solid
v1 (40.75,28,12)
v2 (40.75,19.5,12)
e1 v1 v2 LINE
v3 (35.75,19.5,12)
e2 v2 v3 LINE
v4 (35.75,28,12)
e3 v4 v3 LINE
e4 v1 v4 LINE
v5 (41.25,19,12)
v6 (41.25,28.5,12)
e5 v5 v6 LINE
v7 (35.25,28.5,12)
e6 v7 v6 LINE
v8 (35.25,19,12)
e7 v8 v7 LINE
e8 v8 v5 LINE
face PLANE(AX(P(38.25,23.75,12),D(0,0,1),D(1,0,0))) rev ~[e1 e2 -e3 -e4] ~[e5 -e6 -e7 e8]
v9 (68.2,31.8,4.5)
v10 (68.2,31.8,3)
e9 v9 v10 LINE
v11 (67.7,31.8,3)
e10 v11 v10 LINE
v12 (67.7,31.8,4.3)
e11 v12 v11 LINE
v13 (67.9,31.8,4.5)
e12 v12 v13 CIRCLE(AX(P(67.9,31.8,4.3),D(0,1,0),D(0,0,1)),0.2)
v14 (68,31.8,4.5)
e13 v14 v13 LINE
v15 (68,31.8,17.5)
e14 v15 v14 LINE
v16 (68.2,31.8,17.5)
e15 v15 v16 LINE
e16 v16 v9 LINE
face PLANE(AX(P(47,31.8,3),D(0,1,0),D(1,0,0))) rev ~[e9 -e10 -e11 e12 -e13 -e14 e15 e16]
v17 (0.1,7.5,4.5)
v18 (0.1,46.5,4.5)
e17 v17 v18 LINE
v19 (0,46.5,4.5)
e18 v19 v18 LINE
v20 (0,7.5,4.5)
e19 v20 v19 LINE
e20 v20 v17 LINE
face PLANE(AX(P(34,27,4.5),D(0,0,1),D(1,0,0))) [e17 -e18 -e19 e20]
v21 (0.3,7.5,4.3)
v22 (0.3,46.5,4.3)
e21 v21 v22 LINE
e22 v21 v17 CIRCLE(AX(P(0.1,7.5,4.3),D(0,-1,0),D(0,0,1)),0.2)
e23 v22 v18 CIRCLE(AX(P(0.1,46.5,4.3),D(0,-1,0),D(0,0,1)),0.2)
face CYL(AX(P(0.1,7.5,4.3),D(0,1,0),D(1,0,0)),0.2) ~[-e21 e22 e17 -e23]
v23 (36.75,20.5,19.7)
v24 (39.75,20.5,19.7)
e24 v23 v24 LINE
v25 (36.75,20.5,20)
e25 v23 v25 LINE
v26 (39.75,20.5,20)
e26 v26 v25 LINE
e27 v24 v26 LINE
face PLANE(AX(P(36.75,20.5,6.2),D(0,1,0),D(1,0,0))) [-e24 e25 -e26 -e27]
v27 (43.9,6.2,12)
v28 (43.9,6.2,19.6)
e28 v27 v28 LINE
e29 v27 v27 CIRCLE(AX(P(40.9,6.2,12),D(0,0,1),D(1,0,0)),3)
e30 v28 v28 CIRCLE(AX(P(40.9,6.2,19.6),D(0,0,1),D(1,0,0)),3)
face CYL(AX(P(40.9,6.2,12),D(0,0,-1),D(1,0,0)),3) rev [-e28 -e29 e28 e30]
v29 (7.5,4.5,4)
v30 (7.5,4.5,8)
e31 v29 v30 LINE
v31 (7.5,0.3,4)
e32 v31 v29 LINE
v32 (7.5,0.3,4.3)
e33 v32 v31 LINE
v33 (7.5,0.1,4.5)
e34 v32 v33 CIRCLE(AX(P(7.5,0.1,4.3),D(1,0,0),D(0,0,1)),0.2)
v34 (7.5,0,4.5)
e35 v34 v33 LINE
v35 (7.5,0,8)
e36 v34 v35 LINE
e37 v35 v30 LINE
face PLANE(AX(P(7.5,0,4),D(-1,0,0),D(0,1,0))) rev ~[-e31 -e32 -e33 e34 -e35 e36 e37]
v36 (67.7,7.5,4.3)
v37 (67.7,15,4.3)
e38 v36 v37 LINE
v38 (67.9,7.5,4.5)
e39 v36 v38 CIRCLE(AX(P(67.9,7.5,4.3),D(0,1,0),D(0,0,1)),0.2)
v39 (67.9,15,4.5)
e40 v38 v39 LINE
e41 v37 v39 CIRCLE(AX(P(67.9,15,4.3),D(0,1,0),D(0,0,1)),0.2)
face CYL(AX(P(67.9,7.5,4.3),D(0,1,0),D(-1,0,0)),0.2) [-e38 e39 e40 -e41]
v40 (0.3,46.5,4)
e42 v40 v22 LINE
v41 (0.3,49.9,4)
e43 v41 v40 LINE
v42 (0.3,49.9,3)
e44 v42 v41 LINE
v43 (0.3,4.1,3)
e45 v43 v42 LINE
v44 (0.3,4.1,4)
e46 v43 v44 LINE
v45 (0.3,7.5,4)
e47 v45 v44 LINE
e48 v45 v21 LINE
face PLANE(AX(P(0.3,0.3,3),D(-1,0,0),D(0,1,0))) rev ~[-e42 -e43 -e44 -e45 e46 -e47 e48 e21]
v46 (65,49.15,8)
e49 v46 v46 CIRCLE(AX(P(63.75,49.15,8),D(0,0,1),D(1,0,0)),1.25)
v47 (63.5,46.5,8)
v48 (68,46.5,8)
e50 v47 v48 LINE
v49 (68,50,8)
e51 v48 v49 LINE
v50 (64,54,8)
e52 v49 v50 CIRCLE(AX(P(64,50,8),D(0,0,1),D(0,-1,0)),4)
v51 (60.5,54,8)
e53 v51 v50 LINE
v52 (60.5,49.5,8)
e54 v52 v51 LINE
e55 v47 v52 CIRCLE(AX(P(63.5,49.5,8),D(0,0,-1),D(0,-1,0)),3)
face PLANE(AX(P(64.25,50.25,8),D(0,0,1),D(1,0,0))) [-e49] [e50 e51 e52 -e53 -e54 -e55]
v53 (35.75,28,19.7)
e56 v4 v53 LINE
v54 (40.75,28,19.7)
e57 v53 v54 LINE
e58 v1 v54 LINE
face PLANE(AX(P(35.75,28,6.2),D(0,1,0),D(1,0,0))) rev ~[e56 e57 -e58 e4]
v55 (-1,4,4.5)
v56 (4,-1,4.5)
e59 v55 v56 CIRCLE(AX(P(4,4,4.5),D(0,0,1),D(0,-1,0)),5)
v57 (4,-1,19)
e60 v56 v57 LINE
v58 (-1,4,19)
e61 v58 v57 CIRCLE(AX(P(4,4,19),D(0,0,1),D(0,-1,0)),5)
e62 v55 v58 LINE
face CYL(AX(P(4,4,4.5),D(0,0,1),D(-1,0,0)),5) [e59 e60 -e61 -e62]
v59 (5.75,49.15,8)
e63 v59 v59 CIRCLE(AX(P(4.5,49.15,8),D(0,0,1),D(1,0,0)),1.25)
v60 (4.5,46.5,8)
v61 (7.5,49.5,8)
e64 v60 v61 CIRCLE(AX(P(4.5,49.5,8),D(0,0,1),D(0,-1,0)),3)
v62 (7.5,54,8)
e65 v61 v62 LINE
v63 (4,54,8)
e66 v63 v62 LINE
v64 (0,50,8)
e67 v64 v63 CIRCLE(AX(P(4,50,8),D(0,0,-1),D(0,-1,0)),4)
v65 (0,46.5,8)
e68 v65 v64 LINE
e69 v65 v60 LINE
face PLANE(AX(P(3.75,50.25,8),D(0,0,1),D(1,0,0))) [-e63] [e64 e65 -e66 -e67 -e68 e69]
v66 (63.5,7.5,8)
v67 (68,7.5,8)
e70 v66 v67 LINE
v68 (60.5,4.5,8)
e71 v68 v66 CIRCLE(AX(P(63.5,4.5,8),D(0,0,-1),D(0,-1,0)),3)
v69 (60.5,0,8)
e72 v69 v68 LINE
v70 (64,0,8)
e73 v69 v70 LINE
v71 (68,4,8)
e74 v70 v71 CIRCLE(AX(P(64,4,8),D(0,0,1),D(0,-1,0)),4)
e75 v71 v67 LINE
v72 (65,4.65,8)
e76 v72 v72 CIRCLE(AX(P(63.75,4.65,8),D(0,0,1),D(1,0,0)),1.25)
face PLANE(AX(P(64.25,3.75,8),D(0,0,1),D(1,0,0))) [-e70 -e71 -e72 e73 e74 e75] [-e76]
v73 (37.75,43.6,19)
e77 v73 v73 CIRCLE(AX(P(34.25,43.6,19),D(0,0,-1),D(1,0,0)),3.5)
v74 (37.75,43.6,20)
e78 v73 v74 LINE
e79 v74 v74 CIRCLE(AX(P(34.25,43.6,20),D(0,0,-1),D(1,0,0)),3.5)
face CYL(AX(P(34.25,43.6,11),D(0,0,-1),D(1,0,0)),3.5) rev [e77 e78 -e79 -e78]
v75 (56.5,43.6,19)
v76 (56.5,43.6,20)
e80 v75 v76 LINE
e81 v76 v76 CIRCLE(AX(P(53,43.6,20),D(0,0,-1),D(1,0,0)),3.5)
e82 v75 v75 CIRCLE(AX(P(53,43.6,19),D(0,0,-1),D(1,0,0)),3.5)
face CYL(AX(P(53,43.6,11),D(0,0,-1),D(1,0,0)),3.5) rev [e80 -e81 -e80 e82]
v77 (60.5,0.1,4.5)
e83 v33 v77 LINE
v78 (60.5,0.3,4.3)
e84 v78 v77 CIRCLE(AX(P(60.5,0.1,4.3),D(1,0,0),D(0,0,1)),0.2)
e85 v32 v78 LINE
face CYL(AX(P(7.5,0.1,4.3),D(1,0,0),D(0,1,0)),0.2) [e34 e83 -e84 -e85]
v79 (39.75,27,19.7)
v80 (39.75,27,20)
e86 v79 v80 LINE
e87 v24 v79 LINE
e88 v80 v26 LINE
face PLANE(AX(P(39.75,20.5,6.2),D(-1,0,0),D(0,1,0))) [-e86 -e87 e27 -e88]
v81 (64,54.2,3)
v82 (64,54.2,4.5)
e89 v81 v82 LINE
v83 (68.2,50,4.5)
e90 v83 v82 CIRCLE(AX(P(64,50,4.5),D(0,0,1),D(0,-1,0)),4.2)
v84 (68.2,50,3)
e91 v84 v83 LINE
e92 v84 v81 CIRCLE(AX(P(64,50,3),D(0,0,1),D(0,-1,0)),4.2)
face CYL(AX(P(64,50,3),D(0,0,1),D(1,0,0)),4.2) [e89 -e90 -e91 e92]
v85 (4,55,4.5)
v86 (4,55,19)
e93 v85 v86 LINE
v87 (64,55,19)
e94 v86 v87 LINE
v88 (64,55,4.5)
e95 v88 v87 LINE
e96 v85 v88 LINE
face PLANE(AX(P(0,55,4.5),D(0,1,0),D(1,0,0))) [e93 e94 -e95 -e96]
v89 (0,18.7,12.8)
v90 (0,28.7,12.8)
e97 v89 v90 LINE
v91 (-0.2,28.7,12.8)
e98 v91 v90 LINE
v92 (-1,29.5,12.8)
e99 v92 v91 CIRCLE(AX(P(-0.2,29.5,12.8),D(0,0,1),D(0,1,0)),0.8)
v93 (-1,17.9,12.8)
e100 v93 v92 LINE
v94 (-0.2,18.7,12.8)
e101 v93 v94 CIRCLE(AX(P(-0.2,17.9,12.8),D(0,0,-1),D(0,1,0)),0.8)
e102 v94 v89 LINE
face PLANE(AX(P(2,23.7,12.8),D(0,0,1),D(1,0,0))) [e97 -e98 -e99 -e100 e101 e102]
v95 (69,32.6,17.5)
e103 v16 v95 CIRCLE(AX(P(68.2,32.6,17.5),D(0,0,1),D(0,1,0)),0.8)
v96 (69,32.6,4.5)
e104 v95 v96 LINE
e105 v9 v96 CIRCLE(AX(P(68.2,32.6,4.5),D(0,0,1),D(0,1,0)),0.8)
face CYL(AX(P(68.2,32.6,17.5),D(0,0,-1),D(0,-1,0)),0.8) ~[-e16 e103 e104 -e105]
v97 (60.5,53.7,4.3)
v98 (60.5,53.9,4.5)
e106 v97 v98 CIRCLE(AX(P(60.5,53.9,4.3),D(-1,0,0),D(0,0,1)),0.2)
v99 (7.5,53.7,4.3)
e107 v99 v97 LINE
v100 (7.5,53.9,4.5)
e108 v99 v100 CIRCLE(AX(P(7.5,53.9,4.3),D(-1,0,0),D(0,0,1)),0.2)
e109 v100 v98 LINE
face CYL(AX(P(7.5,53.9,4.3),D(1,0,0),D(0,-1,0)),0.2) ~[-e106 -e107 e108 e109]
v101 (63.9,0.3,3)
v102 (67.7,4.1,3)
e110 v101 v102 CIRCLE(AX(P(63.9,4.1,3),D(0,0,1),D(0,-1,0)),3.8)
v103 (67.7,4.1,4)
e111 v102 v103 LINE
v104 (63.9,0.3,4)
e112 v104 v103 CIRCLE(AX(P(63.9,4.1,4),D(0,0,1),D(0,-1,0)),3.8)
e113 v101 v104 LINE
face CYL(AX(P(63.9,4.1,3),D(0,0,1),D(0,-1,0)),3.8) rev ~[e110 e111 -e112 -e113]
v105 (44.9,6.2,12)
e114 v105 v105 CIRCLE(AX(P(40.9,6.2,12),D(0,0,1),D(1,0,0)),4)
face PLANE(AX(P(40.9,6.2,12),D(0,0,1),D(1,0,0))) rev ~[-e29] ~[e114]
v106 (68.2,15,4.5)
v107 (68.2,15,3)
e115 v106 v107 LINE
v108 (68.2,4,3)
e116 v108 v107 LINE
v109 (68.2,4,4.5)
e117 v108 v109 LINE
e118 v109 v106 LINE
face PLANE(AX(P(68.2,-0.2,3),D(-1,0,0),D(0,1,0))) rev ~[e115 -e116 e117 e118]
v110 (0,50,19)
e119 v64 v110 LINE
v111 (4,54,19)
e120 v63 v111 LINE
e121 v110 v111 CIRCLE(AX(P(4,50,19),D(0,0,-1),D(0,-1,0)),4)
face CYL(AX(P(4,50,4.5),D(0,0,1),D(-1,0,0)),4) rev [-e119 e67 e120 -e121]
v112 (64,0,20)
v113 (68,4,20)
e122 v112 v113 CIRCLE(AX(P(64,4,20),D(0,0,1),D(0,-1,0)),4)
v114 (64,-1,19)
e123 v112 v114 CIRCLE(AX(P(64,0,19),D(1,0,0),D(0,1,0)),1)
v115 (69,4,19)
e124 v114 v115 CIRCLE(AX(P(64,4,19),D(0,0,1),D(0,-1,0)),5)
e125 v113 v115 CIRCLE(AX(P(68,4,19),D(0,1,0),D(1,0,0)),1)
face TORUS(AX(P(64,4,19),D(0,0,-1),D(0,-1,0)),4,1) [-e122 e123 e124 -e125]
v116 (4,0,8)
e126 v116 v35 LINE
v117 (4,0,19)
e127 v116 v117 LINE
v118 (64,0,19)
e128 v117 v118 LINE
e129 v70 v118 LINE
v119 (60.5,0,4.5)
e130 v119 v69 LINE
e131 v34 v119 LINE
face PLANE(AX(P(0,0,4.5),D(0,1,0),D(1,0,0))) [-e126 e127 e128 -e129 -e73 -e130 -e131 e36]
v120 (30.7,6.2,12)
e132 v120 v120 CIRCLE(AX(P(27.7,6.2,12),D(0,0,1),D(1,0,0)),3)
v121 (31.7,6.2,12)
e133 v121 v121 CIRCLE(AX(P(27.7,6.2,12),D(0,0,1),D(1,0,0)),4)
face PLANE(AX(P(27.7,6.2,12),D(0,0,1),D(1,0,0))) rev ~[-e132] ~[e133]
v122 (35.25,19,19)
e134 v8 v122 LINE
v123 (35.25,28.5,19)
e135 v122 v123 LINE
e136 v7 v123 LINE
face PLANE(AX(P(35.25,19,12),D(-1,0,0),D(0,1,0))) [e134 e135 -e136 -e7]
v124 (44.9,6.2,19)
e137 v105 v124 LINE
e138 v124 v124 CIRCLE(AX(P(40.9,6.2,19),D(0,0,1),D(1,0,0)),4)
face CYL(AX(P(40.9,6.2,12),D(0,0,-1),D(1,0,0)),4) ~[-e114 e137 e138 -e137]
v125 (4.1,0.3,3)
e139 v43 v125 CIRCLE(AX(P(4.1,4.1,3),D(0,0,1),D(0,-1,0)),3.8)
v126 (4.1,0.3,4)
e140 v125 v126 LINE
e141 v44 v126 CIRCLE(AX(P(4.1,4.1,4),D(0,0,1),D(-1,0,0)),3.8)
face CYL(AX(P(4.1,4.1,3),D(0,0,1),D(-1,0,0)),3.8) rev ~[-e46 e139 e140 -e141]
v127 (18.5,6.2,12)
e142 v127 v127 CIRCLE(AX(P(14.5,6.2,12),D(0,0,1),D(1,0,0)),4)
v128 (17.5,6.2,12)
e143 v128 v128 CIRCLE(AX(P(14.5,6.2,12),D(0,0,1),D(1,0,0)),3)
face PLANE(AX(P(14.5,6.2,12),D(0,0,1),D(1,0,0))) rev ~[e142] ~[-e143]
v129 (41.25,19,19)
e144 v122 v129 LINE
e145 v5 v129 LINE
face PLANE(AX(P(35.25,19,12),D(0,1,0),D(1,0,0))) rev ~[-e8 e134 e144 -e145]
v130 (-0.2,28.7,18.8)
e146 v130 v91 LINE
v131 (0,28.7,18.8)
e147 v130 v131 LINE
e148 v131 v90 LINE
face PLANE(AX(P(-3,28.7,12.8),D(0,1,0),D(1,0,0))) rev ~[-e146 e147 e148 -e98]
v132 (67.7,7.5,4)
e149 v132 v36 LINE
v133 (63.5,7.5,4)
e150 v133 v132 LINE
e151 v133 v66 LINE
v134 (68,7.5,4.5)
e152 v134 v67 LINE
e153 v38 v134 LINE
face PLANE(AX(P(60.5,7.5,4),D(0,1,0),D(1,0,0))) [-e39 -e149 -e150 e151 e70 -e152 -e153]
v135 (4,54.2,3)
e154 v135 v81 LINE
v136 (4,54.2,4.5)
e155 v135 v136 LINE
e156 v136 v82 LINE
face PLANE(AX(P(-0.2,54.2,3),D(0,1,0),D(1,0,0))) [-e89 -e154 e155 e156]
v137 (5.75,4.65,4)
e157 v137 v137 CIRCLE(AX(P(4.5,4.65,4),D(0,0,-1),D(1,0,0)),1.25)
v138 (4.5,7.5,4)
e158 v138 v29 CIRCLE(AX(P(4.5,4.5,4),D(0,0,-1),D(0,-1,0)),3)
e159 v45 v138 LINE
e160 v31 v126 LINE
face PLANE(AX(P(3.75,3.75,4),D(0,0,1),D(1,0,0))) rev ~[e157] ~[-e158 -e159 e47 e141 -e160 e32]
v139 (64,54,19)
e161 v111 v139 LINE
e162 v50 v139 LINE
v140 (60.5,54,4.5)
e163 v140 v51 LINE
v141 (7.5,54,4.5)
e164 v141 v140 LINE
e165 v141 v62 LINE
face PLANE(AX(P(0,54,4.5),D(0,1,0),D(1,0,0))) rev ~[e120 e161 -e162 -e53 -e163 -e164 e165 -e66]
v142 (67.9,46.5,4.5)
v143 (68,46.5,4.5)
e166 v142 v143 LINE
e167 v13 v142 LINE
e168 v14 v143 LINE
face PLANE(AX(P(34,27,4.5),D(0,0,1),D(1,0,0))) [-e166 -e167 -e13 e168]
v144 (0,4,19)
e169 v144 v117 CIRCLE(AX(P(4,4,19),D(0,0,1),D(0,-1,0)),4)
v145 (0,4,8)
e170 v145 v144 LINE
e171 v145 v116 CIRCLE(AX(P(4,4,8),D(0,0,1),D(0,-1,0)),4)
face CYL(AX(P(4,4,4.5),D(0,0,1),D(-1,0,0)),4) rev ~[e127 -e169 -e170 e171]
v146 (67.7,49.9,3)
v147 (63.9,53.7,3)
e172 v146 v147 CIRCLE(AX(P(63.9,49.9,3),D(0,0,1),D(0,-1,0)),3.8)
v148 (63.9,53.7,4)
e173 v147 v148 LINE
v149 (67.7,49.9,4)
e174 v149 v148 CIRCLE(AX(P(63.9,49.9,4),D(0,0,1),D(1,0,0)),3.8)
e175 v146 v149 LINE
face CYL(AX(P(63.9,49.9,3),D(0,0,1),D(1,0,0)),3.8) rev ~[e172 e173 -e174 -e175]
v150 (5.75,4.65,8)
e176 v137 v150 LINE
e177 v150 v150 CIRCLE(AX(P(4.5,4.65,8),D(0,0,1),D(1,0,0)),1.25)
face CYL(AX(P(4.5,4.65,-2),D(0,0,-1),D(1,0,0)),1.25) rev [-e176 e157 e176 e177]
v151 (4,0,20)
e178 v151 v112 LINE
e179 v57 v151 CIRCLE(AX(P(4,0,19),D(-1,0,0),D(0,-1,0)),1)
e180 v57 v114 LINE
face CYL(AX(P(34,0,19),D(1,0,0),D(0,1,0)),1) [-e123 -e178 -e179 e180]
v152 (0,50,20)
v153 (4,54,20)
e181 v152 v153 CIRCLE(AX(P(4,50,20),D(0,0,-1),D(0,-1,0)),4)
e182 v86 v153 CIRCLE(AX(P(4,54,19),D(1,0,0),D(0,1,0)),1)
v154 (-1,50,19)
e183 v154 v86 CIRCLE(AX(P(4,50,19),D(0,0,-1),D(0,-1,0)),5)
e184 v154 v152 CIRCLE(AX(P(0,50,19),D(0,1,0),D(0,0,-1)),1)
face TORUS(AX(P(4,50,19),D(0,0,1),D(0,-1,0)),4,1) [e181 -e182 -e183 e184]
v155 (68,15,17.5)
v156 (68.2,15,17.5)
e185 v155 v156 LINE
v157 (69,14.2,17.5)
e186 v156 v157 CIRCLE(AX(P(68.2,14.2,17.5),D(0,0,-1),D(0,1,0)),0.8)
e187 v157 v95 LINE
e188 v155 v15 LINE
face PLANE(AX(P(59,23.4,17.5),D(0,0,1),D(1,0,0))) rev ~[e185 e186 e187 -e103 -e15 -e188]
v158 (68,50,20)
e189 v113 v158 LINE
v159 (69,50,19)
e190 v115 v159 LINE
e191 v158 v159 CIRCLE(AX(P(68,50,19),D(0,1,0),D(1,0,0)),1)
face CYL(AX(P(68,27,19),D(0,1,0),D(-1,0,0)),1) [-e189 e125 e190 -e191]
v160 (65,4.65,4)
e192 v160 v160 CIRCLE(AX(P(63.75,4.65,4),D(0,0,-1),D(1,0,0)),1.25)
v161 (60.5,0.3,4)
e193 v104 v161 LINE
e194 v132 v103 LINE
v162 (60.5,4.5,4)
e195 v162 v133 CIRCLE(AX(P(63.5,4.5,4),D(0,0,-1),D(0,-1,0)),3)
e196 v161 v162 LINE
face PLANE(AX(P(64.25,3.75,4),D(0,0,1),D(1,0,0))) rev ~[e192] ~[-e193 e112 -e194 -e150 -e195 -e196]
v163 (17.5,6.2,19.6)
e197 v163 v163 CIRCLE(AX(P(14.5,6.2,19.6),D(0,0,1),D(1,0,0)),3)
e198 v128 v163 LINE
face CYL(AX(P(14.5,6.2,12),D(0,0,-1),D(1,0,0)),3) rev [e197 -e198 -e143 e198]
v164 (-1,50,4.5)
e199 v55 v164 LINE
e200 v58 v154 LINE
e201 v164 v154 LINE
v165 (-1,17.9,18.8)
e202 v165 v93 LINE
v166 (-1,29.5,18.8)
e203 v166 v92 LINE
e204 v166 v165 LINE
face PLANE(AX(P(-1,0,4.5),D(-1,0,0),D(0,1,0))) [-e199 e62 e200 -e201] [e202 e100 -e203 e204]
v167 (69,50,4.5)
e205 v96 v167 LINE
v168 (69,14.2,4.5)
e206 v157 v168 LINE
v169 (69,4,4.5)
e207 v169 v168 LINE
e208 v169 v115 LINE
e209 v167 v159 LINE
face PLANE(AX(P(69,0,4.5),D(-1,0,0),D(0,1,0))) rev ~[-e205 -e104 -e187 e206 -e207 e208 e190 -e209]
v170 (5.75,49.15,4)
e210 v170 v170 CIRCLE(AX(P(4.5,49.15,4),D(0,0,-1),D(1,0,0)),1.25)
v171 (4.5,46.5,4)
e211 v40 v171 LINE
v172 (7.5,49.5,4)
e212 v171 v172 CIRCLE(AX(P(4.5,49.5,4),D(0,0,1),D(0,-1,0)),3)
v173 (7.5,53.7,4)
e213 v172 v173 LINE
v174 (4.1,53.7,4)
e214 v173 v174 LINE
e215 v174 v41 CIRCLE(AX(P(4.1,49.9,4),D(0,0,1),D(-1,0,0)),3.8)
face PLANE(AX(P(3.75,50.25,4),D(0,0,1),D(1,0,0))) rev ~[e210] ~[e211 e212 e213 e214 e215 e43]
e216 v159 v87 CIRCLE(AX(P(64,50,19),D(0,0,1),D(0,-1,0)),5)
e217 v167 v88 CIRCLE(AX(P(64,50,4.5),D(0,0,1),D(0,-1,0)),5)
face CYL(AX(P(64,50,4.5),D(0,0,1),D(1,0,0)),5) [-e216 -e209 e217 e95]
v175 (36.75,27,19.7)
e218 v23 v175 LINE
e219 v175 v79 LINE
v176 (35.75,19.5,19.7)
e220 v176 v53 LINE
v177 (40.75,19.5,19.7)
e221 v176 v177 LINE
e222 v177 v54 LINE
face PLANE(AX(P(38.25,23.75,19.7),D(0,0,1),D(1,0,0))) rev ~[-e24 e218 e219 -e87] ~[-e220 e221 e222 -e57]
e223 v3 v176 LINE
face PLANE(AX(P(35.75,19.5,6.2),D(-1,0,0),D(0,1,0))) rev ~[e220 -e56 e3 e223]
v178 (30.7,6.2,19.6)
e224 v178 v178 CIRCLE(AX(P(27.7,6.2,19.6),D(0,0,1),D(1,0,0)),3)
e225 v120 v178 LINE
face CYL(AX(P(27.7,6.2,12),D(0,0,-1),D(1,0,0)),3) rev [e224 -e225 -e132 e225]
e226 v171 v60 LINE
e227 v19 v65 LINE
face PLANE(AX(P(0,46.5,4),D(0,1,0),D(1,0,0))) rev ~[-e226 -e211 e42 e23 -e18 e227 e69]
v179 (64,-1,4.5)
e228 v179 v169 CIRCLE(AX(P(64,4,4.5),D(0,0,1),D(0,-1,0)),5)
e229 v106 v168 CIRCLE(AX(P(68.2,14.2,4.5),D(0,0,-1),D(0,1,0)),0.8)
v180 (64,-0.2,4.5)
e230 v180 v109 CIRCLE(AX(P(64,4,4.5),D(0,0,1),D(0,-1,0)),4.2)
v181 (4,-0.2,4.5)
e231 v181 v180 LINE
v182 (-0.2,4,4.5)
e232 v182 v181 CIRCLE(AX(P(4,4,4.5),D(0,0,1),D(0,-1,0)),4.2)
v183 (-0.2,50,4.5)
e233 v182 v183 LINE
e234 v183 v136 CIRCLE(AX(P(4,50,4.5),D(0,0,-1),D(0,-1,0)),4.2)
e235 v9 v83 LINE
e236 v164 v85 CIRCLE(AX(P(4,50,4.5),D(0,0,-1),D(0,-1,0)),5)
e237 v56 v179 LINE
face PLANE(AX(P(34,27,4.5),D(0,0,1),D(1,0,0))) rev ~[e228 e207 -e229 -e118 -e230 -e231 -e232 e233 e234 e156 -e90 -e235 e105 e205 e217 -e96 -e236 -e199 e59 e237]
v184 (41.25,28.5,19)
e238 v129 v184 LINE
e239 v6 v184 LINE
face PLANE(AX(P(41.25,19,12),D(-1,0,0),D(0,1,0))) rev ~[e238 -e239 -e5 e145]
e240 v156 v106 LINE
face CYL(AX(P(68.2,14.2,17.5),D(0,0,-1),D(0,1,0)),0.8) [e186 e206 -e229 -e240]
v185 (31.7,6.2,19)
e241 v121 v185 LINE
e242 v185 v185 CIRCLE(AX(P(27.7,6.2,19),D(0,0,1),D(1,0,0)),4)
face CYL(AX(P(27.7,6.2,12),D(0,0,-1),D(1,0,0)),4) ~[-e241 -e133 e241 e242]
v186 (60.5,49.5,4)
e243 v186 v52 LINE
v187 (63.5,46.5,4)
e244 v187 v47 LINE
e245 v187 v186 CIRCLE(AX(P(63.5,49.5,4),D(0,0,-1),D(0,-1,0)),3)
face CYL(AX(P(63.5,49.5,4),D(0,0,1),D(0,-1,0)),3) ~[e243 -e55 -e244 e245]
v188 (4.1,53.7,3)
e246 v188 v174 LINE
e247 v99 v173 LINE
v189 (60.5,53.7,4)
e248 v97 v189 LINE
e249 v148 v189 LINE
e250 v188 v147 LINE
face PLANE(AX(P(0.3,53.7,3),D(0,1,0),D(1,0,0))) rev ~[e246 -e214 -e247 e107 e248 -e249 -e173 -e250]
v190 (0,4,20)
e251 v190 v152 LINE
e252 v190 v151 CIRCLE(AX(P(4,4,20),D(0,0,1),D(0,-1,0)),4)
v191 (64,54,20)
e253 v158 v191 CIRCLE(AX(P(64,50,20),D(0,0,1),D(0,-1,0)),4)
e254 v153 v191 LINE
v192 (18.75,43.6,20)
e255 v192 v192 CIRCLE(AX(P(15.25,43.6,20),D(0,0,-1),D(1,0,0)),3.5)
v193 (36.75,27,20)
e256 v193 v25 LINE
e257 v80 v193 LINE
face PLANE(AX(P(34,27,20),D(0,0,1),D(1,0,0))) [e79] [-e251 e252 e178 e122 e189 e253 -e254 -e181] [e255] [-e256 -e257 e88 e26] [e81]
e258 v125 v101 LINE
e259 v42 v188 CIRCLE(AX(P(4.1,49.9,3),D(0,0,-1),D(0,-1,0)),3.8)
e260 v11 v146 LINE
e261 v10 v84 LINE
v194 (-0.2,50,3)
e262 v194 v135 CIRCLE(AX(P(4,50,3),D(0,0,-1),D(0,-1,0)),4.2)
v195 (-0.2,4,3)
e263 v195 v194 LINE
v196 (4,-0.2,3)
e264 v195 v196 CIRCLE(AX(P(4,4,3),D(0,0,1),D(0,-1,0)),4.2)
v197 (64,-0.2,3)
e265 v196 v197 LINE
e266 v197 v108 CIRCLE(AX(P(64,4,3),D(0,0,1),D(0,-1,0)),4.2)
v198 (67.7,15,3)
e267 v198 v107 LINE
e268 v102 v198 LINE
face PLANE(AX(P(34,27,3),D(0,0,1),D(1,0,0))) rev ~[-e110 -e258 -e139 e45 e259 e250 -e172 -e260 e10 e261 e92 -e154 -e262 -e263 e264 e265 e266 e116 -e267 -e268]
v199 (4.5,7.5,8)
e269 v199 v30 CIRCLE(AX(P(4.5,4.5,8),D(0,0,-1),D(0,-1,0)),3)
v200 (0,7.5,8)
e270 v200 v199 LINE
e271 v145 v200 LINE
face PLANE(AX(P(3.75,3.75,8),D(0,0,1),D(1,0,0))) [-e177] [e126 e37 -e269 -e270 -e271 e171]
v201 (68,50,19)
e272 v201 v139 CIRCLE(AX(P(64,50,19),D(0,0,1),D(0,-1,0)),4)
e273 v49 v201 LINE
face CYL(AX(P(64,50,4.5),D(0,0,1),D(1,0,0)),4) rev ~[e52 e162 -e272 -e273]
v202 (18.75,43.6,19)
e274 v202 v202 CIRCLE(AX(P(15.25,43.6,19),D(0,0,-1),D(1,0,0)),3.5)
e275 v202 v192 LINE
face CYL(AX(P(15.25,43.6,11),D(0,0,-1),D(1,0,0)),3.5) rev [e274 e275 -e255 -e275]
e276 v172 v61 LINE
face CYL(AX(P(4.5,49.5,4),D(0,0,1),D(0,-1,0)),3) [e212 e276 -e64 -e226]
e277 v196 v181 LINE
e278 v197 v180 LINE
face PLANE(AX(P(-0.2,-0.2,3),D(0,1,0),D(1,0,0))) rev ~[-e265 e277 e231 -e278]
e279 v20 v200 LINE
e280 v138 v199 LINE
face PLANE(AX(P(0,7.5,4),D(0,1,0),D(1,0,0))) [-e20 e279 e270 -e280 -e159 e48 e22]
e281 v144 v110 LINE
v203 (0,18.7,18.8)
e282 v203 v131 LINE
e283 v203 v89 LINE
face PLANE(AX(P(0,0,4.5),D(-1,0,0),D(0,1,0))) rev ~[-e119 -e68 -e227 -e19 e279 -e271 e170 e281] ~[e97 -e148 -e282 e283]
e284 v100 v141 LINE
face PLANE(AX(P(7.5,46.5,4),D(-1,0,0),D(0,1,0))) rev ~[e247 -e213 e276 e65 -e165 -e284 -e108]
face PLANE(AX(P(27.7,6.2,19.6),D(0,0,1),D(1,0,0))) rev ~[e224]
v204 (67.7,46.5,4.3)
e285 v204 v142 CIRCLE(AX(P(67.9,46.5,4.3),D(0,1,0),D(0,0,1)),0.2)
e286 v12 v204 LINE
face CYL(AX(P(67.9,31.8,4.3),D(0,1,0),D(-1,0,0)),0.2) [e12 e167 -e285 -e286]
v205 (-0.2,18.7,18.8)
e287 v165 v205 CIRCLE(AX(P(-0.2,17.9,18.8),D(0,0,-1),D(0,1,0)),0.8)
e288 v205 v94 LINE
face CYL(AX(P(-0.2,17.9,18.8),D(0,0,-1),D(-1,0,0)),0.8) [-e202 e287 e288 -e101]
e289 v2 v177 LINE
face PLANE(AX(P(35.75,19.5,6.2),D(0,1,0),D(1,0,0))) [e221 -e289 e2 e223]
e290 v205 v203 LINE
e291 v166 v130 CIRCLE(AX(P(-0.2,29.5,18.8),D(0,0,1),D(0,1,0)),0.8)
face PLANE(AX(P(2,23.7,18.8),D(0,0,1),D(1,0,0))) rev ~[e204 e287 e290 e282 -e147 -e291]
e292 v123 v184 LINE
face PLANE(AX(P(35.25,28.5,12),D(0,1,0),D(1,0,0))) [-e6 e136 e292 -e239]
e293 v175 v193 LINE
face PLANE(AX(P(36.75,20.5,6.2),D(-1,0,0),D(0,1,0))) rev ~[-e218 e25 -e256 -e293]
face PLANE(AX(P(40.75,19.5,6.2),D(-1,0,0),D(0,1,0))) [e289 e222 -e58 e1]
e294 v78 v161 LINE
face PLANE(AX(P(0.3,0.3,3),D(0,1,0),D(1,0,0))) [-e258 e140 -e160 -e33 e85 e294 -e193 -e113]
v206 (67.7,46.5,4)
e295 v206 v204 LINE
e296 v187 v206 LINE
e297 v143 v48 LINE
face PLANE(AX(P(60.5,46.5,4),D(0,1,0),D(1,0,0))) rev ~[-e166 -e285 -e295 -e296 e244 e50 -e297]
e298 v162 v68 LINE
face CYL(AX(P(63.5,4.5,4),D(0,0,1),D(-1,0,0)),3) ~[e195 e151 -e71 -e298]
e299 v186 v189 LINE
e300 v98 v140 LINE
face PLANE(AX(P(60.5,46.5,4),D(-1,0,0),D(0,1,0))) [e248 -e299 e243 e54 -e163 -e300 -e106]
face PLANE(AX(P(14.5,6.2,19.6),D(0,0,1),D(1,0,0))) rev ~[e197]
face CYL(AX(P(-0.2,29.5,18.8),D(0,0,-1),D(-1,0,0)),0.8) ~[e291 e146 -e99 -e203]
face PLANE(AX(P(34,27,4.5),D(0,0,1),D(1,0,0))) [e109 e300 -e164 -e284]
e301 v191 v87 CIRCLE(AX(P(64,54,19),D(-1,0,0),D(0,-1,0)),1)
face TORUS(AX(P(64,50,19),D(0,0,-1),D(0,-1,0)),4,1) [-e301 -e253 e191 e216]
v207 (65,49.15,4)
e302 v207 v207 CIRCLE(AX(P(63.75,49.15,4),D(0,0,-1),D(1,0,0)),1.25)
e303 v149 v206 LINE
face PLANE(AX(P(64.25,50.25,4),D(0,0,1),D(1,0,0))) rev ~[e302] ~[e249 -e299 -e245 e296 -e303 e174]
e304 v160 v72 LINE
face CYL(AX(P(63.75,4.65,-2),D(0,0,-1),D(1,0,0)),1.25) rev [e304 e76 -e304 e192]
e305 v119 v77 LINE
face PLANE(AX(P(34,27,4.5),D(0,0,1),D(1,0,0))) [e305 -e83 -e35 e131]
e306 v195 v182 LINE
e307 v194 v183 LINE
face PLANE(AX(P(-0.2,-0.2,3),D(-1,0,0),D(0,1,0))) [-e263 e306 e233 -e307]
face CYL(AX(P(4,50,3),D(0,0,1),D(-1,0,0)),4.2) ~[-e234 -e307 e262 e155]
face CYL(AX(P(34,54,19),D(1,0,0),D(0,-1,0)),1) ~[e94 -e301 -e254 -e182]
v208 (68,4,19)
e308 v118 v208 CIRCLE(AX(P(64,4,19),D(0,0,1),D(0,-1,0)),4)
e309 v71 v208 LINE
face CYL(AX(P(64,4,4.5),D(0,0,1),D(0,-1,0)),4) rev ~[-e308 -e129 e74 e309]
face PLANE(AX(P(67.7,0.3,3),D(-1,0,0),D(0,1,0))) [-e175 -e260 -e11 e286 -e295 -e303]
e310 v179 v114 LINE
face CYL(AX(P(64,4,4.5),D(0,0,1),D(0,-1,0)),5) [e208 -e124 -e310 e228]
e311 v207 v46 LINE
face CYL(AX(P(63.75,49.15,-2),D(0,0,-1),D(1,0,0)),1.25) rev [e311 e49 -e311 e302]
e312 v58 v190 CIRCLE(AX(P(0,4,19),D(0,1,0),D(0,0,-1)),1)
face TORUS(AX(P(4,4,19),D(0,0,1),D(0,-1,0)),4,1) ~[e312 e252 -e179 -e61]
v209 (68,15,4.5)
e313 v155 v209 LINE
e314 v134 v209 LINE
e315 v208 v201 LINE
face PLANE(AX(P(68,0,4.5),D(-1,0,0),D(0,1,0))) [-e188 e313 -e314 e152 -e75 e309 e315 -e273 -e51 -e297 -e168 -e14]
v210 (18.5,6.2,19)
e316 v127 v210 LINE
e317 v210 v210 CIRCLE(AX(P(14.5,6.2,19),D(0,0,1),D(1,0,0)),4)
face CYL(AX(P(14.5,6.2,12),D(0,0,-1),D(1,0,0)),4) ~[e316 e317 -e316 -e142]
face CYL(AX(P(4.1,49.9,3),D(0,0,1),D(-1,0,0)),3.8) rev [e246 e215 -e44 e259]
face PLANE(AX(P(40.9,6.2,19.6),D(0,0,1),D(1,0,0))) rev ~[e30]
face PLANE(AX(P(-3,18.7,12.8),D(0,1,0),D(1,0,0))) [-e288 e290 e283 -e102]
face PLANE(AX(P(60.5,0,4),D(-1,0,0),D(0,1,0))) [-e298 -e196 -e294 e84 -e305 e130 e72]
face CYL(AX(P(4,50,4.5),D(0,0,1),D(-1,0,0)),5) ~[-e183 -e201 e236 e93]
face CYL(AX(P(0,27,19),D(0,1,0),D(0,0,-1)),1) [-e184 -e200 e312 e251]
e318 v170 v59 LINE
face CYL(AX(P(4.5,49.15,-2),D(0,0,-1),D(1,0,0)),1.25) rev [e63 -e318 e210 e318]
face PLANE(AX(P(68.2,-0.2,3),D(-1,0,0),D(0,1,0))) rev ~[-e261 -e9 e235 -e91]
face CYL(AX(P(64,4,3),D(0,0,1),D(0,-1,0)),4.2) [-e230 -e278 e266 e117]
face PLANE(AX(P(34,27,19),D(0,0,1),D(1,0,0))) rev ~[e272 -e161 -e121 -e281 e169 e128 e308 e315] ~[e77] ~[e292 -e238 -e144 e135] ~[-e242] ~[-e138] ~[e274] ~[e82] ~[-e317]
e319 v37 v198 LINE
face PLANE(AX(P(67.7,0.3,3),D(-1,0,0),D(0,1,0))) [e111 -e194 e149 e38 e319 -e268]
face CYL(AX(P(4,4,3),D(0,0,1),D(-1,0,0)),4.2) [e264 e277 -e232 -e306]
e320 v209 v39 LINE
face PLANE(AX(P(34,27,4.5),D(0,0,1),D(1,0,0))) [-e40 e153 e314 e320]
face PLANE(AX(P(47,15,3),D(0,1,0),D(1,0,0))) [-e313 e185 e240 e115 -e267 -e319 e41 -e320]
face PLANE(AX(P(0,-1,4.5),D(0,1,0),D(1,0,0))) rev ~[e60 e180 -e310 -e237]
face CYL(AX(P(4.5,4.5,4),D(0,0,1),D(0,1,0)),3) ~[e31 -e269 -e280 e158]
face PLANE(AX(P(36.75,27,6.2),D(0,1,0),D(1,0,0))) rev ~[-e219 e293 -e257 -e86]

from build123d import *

# Parameters (mm, degrees)
CYLINDER019_R     = 1.25
CYLINDER019_DEPTH = 10
CYLINDER018_R     = 1.25
CYLINDER018_DEPTH = 10
CYLINDER017_R     = 1.25
CYLINDER017_DEPTH = 10
BOX005_W          = 5
BOX005_H          = 8.5
BOX005_DEPTH      = 13.5
BOX006_W          = 3
BOX006_H          = 6.5
BOX006_DEPTH      = 14.5
CYLINDER015_R     = 3
CYLINDER015_DEPTH = 7.6
CYLINDER013_R     = 3
CYLINDER013_DEPTH = 7.6
CYLINDER011_R     = 3
CYLINDER011_DEPTH = 7.6
BOX003_W          = 10
BOX003_H          = 10
BOX003_DEPTH      = 6
CYLINDER002_R     = 3.5
CYLINDER002_DEPTH = 10
CYLINDER001_R     = 3.5
CYLINDER001_DEPTH = 10
CYLINDER_R        = 3.5
CYLINDER_DEPTH    = 10
BOX001_W          = 24
BOX001_H          = 16.8
BOX001_DEPTH      = 14.5
CYLINDER020_R     = 1.25
CYLINDER020_DEPTH = 10
BOX011_W          = 7.5
BOX011_H          = 7.5
BOX011_DEPTH      = 4
FILLET003_1_R     = 4
FILLET003_2_R     = 3
BOX010_W          = 7.5
BOX010_H          = 7.5
BOX010_DEPTH      = 4
FILLET002_1_R     = 4
FILLET002_2_R     = 3
BOX009_W          = 7.5
BOX009_H          = 7.5
BOX009_DEPTH      = 4
FILLET001_1_R     = 4
FILLET001_2_R     = 3
BOX004_W          = 6
BOX004_H          = 9.5
BOX004_DEPTH      = 7
CYLINDER012_R     = 4
CYLINDER012_DEPTH = 7
CYLINDER014_R     = 4
CYLINDER014_DEPTH = 7
CYLINDER016_R     = 4
CYLINDER016_DEPTH = 7
BOX008_W          = 7.5
BOX008_H          = 7.5
BOX008_DEPTH      = 4
FILLET_1_R        = 4
FILLET_2_R        = 3
BOX016_W          = 67.4
BOX016_H          = 53.4
BOX016_DEPTH      = 1.5
FILLET009_R       = 3.8
BOX013_W          = 68.4
BOX013_H          = 54.4
BOX013_DEPTH      = 1.5
FILLET008_R       = 4.2
BOX002_W          = 68
BOX002_H          = 54
BOX002_DEPTH      = 14.5
FILLET007_R       = 4
THICKNESS001_T    = 1
FILLET010_1_R     = 0.8
FILLET010_2_R     = 0.2


with BuildPart() as holebl003:
    # Cylinder019 → Cylinder019 (new body)
    with BuildSketch(Plane(origin=(63.75, 49.15, -2), x_dir=(1, 0, 0), z_dir=(0, 0, 1))):
        Circle(CYLINDER019_R)
    extrude(amount=CYLINDER019_DEPTH)


with BuildPart() as holebl002:
    # Cylinder018 → Cylinder018 (new body)
    with BuildSketch(Plane(origin=(4.5, 49.15, -2), x_dir=(1, 0, 0), z_dir=(0, 0, 1))):
        Circle(CYLINDER018_R)
    extrude(amount=CYLINDER018_DEPTH)


with BuildPart() as holebl001:
    # Cylinder017 → Cylinder017 (new body)
    with BuildSketch(Plane(origin=(4.5, 4.65, -2), x_dir=(1, 0, 0), z_dir=(0, 0, 1))):
        Circle(CYLINDER017_R)
    extrude(amount=CYLINDER017_DEPTH)


with BuildPart() as resethole:
    # Box005 → Box005 (new body)
    with BuildSketch(Plane(origin=(35.75, 19.5, 6.2), x_dir=(1, 0, 0), z_dir=(0, 0, 1))):
        with Locations((2.5, 4.25)):
            Rectangle(BOX005_W, BOX005_H)
    extrude(amount=BOX005_DEPTH)


with BuildPart() as resethole002:
    # Box006 → Box006 (new body)
    with BuildSketch(Plane(origin=(36.75, 20.5, 6.2), x_dir=(1, 0, 0), z_dir=(0, 0, 1))):
        with Locations((1.5, 3.25)):
            Rectangle(BOX006_W, BOX006_H)
    extrude(amount=BOX006_DEPTH)

    # Fusion: union ResetHole
    add(resethole.part)


with BuildPart() as ledhole002:
    # Cylinder015 → Cylinder015 (new body)
    with BuildSketch(Plane(origin=(40.9, 6.2, 12), x_dir=(1, 0, 0), z_dir=(0, 0, 1))):
        Circle(CYLINDER015_R)
    extrude(amount=CYLINDER015_DEPTH)


with BuildPart() as ledhole001:
    # Cylinder013 → Cylinder013 (new body)
    with BuildSketch(Plane(origin=(27.7, 6.2, 12), x_dir=(1, 0, 0), z_dir=(0, 0, 1))):
        Circle(CYLINDER013_R)
    extrude(amount=CYLINDER013_DEPTH)


with BuildPart() as ledhole:
    # Cylinder011 → Cylinder011 (new body)
    with BuildSketch(Plane(origin=(14.5, 6.2, 12), x_dir=(1, 0, 0), z_dir=(0, 0, 1))):
        Circle(CYLINDER011_R)
    extrude(amount=CYLINDER011_DEPTH)


with BuildPart() as usbhole:
    # Box003 → Box003 (new body)
    with BuildSketch(Plane(origin=(-3, 18.7, 12.8), x_dir=(1, 0, 0), z_dir=(0, 0, 1))):
        with Locations((5, 5)):
            Rectangle(BOX003_W, BOX003_H)
    extrude(amount=BOX003_DEPTH)


with BuildPart() as pothole002:
    # Cylinder002 → Cylinder002 (new body)
    with BuildSketch(Plane(origin=(53, 43.6, 11), x_dir=(1, 0, 0), z_dir=(0, 0, 1))):
        Circle(CYLINDER002_R)
    extrude(amount=CYLINDER002_DEPTH)


with BuildPart() as pothole001:
    # Cylinder001 → Cylinder001 (new body)
    with BuildSketch(Plane(origin=(34.25, 43.6, 11), x_dir=(1, 0, 0), z_dir=(0, 0, 1))):
        Circle(CYLINDER001_R)
    extrude(amount=CYLINDER001_DEPTH)


with BuildPart() as pothole:
    # Cylinder → Cylinder (new body)
    with BuildSketch(Plane(origin=(15.25, 43.6, 11), x_dir=(1, 0, 0), z_dir=(0, 0, 1))):
        Circle(CYLINDER_R)
    extrude(amount=CYLINDER_DEPTH)


with BuildPart() as rj45hole:
    # Box001 → Box001 (new body)
    with BuildSketch(Plane(origin=(47, 15, 3), x_dir=(1, 0, 0), z_dir=(0, 0, 1))):
        with Locations((12, 8.4)):
            Rectangle(BOX001_W, BOX001_H)
    extrude(amount=BOX001_DEPTH)


with BuildPart() as topholes:
    # Cylinder020 → Cylinder020 (new body)
    with BuildSketch(Plane(origin=(63.75, 4.65, -2), x_dir=(1, 0, 0), z_dir=(0, 0, 1))):
        Circle(CYLINDER020_R)
    extrude(amount=CYLINDER020_DEPTH)

    # Fusion009: union holebl003, holebl002, holebl001, ResetHole002, ledhole002, ledhole001, ledhole, UsbHole, PotHole002, PotHole001, PotHole, rj45hole
    add(holebl003.part)
    add(holebl002.part)
    add(holebl001.part)
    add(resethole002.part)
    add(ledhole002.part)
    add(ledhole001.part)
    add(ledhole.part)
    add(usbhole.part)
    add(pothole002.part)
    add(pothole001.part)
    add(pothole.part)
    add(rj45hole.part)


with BuildPart() as topholetr:
    # Box011 → Box011 (new body)
    with BuildSketch(Plane.XY.offset(4)):
        with Locations((3.75, 3.75)):
            Rectangle(BOX011_W, BOX011_H)
    extrude(amount=BOX011_DEPTH)

    # Fillet003 1
    fillet003_1_edges = [topholetr.edges().sort_by_distance(p)[0] for p in [
        (7.5, 7.5, 6),
    ]]
    fillet(fillet003_1_edges, radius=FILLET003_1_R)

    # Fillet003 2
    fillet003_2_edges = [topholetr.edges().sort_by_distance(p)[0] for p in [
        (0, 0, 6),
    ]]
    fillet(fillet003_2_edges, radius=FILLET003_2_R)


with BuildPart() as topholetr_1:
    # Fillet003 placement: moved
    add(topholetr.part.moved(Location((60.5, 46.5, 0))))


with BuildPart() as topholebr:
    # Box010 → Box010 (new body)
    with BuildSketch(Plane.XY.offset(4)):
        with Locations((3.75, 3.75)):
            Rectangle(BOX010_W, BOX010_H)
    extrude(amount=BOX010_DEPTH)

    # Fillet002 1
    fillet002_1_edges = [topholebr.edges().sort_by_distance(p)[0] for p in [
        (7.5, 0, 6),
    ]]
    fillet(fillet002_1_edges, radius=FILLET002_1_R)

    # Fillet002 2
    fillet002_2_edges = [topholebr.edges().sort_by_distance(p)[0] for p in [
        (0, 7.5, 6),
    ]]
    fillet(fillet002_2_edges, radius=FILLET002_2_R)


with BuildPart() as topholebr_1:
    # Fillet002 placement: moved
    add(topholebr.part.moved(Location((60.5, 0, 0))))


with BuildPart() as topholetl:
    # Box009 → Box009 (new body)
    with BuildSketch(Plane.XY.offset(4)):
        with Locations((3.75, 3.75)):
            Rectangle(BOX009_W, BOX009_H)
    extrude(amount=BOX009_DEPTH)

    # Fillet001 1
    fillet001_1_edges = [topholetl.edges().sort_by_distance(p)[0] for p in [
        (0, 7.5, 6),
    ]]
    fillet(fillet001_1_edges, radius=FILLET001_1_R)

    # Fillet001 2
    fillet001_2_edges = [topholetl.edges().sort_by_distance(p)[0] for p in [
        (7.5, 0, 6),
    ]]
    fillet(fillet001_2_edges, radius=FILLET001_2_R)


with BuildPart() as topholetl_1:
    # Fillet001 placement: moved
    add(topholetl.part.moved(Location((0, 46.5, 0))))


with BuildPart() as resethousing:
    # Box004 → Box004 (new body)
    with BuildSketch(Plane(origin=(35.25, 19, 12), x_dir=(1, 0, 0), z_dir=(0, 0, 1))):
        with Locations((3, 4.75)):
            Rectangle(BOX004_W, BOX004_H)
    extrude(amount=BOX004_DEPTH)


with BuildPart() as ledtube:
    # Cylinder012 → Cylinder012 (new body)
    with BuildSketch(Plane(origin=(14.5, 6.2, 12), x_dir=(1, 0, 0), z_dir=(0, 0, 1))):
        Circle(CYLINDER012_R)
    extrude(amount=CYLINDER012_DEPTH)


with BuildPart() as ledtube001:
    # Cylinder014 → Cylinder014 (new body)
    with BuildSketch(Plane(origin=(27.7, 6.2, 12), x_dir=(1, 0, 0), z_dir=(0, 0, 1))):
        Circle(CYLINDER014_R)
    extrude(amount=CYLINDER014_DEPTH)


with BuildPart() as ledtube002:
    # Cylinder016 → Cylinder016 (new body)
    with BuildSketch(Plane(origin=(40.9, 6.2, 12), x_dir=(1, 0, 0), z_dir=(0, 0, 1))):
        Circle(CYLINDER016_R)
    extrude(amount=CYLINDER016_DEPTH)


with BuildPart() as topholebl:
    # Box008 → Box008 (new body)
    with BuildSketch(Plane.XY.offset(4)):
        with Locations((3.75, 3.75)):
            Rectangle(BOX008_W, BOX008_H)
    extrude(amount=BOX008_DEPTH)

    # Fillet 1
    fillet_1_edges = [topholebl.edges().sort_by_distance(p)[0] for p in [
        (0, 0, 6),
    ]]
    fillet(fillet_1_edges, radius=FILLET_1_R)

    # Fillet 2
    fillet_2_edges = [topholebl.edges().sort_by_distance(p)[0] for p in [
        (7.5, 7.5, 6),
    ]]
    fillet(fillet_2_edges, radius=FILLET_2_R)


with BuildPart() as fillet009:
    # Box016 → Box016 (new body)
    with BuildSketch(Plane(origin=(0.3, 0.3, 3), x_dir=(1, 0, 0), z_dir=(0, 0, 1))):
        with Locations((33.7, 26.7)):
            Rectangle(BOX016_W, BOX016_H)
    extrude(amount=BOX016_DEPTH)

    # Fillet009
    fillet009_edges = [fillet009.edges().sort_by_distance(p)[0] for p in [
        (0.3, 0.3, 3.75),
        (0.3, 53.7, 3.75),
        (67.7, 0.3, 3.75),
        (67.7, 53.7, 3.75),
    ]]
    fillet(fillet009_edges, radius=FILLET009_R)


with BuildPart() as snaptop:
    # Box013 → Box013 (new body)
    with BuildSketch(Plane(origin=(-0.2, -0.2, 3), x_dir=(1, 0, 0), z_dir=(0, 0, 1))):
        with Locations((34.2, 27.2)):
            Rectangle(BOX013_W, BOX013_H)
    extrude(amount=BOX013_DEPTH)

    # Fillet008
    fillet008_edges = [snaptop.edges().sort_by_distance(p)[0] for p in [
        (-0.2, -0.2, 3.75),
        (-0.2, 54.2, 3.75),
        (68.2, -0.2, 3.75),
        (68.2, 54.2, 3.75),
    ]]
    fillet(fillet008_edges, radius=FILLET008_R)

    # Cut: cut Fillet009
    add(fillet009.part, mode=Mode.SUBTRACT)


with BuildPart() as top:
    # Box002 → Box002 (new body)
    with BuildSketch(Plane.XY.offset(4.5)):
        with Locations((34, 27)):
            Rectangle(BOX002_W, BOX002_H)
    extrude(amount=BOX002_DEPTH)

    # Fillet007
    fillet007_edges = [top.edges().sort_by_distance(p)[0] for p in [
        (0, 0, 11.75),
        (0, 54, 11.75),
        (68, 0, 11.75),
        (68, 54, 11.75),
    ]]
    fillet(fillet007_edges, radius=FILLET007_R)

    # Thickness001
    thickness001_openings = [top.faces().sort_by_distance(p)[0] for p in [
        (34, 27, 4.5),
    ]]
    offset(amount=THICKNESS001_T, openings=thickness001_openings)

    # Fusion008: union topholetr, topholebr, topholetl, PotHole, ResetHousing, ledtube, ledtube001, ledtube002, topholebl, snaptop
    add(topholetr_1.part)
    add(topholebr_1.part)
    add(topholetl_1.part)
    add(pothole.part)
    add(resethousing.part)
    add(ledtube.part)
    add(ledtube001.part)
    add(ledtube002.part)
    add(topholebl.part)
    add(snaptop.part)

    # Cut004: cut TopHoles
    add(topholes.part, mode=Mode.SUBTRACT)

    # Fillet010 1
    fillet010_1_edges = [top.edges().sort_by_distance(p)[0] for p in [
        (-1, 28.7, 15.8),
        (-1, 18.7, 15.8),
        (69, 31.8, 11),
        (69, 15, 11),
    ]]
    fillet(fillet010_1_edges, radius=FILLET010_1_R)

    # Fillet010 2
    fillet010_2_edges = [top.edges().sort_by_distance(p)[0] for p in [
        (0.3, 27, 4.5),
        (34, 0.3, 4.5),
        (34, 53.7, 4.5),
        (67.7, 39.15, 4.5),
        (67.7, 11.25, 4.5),
    ]]
    fillet(fillet010_2_edges, radius=FILLET010_2_R)


solid = top.part
